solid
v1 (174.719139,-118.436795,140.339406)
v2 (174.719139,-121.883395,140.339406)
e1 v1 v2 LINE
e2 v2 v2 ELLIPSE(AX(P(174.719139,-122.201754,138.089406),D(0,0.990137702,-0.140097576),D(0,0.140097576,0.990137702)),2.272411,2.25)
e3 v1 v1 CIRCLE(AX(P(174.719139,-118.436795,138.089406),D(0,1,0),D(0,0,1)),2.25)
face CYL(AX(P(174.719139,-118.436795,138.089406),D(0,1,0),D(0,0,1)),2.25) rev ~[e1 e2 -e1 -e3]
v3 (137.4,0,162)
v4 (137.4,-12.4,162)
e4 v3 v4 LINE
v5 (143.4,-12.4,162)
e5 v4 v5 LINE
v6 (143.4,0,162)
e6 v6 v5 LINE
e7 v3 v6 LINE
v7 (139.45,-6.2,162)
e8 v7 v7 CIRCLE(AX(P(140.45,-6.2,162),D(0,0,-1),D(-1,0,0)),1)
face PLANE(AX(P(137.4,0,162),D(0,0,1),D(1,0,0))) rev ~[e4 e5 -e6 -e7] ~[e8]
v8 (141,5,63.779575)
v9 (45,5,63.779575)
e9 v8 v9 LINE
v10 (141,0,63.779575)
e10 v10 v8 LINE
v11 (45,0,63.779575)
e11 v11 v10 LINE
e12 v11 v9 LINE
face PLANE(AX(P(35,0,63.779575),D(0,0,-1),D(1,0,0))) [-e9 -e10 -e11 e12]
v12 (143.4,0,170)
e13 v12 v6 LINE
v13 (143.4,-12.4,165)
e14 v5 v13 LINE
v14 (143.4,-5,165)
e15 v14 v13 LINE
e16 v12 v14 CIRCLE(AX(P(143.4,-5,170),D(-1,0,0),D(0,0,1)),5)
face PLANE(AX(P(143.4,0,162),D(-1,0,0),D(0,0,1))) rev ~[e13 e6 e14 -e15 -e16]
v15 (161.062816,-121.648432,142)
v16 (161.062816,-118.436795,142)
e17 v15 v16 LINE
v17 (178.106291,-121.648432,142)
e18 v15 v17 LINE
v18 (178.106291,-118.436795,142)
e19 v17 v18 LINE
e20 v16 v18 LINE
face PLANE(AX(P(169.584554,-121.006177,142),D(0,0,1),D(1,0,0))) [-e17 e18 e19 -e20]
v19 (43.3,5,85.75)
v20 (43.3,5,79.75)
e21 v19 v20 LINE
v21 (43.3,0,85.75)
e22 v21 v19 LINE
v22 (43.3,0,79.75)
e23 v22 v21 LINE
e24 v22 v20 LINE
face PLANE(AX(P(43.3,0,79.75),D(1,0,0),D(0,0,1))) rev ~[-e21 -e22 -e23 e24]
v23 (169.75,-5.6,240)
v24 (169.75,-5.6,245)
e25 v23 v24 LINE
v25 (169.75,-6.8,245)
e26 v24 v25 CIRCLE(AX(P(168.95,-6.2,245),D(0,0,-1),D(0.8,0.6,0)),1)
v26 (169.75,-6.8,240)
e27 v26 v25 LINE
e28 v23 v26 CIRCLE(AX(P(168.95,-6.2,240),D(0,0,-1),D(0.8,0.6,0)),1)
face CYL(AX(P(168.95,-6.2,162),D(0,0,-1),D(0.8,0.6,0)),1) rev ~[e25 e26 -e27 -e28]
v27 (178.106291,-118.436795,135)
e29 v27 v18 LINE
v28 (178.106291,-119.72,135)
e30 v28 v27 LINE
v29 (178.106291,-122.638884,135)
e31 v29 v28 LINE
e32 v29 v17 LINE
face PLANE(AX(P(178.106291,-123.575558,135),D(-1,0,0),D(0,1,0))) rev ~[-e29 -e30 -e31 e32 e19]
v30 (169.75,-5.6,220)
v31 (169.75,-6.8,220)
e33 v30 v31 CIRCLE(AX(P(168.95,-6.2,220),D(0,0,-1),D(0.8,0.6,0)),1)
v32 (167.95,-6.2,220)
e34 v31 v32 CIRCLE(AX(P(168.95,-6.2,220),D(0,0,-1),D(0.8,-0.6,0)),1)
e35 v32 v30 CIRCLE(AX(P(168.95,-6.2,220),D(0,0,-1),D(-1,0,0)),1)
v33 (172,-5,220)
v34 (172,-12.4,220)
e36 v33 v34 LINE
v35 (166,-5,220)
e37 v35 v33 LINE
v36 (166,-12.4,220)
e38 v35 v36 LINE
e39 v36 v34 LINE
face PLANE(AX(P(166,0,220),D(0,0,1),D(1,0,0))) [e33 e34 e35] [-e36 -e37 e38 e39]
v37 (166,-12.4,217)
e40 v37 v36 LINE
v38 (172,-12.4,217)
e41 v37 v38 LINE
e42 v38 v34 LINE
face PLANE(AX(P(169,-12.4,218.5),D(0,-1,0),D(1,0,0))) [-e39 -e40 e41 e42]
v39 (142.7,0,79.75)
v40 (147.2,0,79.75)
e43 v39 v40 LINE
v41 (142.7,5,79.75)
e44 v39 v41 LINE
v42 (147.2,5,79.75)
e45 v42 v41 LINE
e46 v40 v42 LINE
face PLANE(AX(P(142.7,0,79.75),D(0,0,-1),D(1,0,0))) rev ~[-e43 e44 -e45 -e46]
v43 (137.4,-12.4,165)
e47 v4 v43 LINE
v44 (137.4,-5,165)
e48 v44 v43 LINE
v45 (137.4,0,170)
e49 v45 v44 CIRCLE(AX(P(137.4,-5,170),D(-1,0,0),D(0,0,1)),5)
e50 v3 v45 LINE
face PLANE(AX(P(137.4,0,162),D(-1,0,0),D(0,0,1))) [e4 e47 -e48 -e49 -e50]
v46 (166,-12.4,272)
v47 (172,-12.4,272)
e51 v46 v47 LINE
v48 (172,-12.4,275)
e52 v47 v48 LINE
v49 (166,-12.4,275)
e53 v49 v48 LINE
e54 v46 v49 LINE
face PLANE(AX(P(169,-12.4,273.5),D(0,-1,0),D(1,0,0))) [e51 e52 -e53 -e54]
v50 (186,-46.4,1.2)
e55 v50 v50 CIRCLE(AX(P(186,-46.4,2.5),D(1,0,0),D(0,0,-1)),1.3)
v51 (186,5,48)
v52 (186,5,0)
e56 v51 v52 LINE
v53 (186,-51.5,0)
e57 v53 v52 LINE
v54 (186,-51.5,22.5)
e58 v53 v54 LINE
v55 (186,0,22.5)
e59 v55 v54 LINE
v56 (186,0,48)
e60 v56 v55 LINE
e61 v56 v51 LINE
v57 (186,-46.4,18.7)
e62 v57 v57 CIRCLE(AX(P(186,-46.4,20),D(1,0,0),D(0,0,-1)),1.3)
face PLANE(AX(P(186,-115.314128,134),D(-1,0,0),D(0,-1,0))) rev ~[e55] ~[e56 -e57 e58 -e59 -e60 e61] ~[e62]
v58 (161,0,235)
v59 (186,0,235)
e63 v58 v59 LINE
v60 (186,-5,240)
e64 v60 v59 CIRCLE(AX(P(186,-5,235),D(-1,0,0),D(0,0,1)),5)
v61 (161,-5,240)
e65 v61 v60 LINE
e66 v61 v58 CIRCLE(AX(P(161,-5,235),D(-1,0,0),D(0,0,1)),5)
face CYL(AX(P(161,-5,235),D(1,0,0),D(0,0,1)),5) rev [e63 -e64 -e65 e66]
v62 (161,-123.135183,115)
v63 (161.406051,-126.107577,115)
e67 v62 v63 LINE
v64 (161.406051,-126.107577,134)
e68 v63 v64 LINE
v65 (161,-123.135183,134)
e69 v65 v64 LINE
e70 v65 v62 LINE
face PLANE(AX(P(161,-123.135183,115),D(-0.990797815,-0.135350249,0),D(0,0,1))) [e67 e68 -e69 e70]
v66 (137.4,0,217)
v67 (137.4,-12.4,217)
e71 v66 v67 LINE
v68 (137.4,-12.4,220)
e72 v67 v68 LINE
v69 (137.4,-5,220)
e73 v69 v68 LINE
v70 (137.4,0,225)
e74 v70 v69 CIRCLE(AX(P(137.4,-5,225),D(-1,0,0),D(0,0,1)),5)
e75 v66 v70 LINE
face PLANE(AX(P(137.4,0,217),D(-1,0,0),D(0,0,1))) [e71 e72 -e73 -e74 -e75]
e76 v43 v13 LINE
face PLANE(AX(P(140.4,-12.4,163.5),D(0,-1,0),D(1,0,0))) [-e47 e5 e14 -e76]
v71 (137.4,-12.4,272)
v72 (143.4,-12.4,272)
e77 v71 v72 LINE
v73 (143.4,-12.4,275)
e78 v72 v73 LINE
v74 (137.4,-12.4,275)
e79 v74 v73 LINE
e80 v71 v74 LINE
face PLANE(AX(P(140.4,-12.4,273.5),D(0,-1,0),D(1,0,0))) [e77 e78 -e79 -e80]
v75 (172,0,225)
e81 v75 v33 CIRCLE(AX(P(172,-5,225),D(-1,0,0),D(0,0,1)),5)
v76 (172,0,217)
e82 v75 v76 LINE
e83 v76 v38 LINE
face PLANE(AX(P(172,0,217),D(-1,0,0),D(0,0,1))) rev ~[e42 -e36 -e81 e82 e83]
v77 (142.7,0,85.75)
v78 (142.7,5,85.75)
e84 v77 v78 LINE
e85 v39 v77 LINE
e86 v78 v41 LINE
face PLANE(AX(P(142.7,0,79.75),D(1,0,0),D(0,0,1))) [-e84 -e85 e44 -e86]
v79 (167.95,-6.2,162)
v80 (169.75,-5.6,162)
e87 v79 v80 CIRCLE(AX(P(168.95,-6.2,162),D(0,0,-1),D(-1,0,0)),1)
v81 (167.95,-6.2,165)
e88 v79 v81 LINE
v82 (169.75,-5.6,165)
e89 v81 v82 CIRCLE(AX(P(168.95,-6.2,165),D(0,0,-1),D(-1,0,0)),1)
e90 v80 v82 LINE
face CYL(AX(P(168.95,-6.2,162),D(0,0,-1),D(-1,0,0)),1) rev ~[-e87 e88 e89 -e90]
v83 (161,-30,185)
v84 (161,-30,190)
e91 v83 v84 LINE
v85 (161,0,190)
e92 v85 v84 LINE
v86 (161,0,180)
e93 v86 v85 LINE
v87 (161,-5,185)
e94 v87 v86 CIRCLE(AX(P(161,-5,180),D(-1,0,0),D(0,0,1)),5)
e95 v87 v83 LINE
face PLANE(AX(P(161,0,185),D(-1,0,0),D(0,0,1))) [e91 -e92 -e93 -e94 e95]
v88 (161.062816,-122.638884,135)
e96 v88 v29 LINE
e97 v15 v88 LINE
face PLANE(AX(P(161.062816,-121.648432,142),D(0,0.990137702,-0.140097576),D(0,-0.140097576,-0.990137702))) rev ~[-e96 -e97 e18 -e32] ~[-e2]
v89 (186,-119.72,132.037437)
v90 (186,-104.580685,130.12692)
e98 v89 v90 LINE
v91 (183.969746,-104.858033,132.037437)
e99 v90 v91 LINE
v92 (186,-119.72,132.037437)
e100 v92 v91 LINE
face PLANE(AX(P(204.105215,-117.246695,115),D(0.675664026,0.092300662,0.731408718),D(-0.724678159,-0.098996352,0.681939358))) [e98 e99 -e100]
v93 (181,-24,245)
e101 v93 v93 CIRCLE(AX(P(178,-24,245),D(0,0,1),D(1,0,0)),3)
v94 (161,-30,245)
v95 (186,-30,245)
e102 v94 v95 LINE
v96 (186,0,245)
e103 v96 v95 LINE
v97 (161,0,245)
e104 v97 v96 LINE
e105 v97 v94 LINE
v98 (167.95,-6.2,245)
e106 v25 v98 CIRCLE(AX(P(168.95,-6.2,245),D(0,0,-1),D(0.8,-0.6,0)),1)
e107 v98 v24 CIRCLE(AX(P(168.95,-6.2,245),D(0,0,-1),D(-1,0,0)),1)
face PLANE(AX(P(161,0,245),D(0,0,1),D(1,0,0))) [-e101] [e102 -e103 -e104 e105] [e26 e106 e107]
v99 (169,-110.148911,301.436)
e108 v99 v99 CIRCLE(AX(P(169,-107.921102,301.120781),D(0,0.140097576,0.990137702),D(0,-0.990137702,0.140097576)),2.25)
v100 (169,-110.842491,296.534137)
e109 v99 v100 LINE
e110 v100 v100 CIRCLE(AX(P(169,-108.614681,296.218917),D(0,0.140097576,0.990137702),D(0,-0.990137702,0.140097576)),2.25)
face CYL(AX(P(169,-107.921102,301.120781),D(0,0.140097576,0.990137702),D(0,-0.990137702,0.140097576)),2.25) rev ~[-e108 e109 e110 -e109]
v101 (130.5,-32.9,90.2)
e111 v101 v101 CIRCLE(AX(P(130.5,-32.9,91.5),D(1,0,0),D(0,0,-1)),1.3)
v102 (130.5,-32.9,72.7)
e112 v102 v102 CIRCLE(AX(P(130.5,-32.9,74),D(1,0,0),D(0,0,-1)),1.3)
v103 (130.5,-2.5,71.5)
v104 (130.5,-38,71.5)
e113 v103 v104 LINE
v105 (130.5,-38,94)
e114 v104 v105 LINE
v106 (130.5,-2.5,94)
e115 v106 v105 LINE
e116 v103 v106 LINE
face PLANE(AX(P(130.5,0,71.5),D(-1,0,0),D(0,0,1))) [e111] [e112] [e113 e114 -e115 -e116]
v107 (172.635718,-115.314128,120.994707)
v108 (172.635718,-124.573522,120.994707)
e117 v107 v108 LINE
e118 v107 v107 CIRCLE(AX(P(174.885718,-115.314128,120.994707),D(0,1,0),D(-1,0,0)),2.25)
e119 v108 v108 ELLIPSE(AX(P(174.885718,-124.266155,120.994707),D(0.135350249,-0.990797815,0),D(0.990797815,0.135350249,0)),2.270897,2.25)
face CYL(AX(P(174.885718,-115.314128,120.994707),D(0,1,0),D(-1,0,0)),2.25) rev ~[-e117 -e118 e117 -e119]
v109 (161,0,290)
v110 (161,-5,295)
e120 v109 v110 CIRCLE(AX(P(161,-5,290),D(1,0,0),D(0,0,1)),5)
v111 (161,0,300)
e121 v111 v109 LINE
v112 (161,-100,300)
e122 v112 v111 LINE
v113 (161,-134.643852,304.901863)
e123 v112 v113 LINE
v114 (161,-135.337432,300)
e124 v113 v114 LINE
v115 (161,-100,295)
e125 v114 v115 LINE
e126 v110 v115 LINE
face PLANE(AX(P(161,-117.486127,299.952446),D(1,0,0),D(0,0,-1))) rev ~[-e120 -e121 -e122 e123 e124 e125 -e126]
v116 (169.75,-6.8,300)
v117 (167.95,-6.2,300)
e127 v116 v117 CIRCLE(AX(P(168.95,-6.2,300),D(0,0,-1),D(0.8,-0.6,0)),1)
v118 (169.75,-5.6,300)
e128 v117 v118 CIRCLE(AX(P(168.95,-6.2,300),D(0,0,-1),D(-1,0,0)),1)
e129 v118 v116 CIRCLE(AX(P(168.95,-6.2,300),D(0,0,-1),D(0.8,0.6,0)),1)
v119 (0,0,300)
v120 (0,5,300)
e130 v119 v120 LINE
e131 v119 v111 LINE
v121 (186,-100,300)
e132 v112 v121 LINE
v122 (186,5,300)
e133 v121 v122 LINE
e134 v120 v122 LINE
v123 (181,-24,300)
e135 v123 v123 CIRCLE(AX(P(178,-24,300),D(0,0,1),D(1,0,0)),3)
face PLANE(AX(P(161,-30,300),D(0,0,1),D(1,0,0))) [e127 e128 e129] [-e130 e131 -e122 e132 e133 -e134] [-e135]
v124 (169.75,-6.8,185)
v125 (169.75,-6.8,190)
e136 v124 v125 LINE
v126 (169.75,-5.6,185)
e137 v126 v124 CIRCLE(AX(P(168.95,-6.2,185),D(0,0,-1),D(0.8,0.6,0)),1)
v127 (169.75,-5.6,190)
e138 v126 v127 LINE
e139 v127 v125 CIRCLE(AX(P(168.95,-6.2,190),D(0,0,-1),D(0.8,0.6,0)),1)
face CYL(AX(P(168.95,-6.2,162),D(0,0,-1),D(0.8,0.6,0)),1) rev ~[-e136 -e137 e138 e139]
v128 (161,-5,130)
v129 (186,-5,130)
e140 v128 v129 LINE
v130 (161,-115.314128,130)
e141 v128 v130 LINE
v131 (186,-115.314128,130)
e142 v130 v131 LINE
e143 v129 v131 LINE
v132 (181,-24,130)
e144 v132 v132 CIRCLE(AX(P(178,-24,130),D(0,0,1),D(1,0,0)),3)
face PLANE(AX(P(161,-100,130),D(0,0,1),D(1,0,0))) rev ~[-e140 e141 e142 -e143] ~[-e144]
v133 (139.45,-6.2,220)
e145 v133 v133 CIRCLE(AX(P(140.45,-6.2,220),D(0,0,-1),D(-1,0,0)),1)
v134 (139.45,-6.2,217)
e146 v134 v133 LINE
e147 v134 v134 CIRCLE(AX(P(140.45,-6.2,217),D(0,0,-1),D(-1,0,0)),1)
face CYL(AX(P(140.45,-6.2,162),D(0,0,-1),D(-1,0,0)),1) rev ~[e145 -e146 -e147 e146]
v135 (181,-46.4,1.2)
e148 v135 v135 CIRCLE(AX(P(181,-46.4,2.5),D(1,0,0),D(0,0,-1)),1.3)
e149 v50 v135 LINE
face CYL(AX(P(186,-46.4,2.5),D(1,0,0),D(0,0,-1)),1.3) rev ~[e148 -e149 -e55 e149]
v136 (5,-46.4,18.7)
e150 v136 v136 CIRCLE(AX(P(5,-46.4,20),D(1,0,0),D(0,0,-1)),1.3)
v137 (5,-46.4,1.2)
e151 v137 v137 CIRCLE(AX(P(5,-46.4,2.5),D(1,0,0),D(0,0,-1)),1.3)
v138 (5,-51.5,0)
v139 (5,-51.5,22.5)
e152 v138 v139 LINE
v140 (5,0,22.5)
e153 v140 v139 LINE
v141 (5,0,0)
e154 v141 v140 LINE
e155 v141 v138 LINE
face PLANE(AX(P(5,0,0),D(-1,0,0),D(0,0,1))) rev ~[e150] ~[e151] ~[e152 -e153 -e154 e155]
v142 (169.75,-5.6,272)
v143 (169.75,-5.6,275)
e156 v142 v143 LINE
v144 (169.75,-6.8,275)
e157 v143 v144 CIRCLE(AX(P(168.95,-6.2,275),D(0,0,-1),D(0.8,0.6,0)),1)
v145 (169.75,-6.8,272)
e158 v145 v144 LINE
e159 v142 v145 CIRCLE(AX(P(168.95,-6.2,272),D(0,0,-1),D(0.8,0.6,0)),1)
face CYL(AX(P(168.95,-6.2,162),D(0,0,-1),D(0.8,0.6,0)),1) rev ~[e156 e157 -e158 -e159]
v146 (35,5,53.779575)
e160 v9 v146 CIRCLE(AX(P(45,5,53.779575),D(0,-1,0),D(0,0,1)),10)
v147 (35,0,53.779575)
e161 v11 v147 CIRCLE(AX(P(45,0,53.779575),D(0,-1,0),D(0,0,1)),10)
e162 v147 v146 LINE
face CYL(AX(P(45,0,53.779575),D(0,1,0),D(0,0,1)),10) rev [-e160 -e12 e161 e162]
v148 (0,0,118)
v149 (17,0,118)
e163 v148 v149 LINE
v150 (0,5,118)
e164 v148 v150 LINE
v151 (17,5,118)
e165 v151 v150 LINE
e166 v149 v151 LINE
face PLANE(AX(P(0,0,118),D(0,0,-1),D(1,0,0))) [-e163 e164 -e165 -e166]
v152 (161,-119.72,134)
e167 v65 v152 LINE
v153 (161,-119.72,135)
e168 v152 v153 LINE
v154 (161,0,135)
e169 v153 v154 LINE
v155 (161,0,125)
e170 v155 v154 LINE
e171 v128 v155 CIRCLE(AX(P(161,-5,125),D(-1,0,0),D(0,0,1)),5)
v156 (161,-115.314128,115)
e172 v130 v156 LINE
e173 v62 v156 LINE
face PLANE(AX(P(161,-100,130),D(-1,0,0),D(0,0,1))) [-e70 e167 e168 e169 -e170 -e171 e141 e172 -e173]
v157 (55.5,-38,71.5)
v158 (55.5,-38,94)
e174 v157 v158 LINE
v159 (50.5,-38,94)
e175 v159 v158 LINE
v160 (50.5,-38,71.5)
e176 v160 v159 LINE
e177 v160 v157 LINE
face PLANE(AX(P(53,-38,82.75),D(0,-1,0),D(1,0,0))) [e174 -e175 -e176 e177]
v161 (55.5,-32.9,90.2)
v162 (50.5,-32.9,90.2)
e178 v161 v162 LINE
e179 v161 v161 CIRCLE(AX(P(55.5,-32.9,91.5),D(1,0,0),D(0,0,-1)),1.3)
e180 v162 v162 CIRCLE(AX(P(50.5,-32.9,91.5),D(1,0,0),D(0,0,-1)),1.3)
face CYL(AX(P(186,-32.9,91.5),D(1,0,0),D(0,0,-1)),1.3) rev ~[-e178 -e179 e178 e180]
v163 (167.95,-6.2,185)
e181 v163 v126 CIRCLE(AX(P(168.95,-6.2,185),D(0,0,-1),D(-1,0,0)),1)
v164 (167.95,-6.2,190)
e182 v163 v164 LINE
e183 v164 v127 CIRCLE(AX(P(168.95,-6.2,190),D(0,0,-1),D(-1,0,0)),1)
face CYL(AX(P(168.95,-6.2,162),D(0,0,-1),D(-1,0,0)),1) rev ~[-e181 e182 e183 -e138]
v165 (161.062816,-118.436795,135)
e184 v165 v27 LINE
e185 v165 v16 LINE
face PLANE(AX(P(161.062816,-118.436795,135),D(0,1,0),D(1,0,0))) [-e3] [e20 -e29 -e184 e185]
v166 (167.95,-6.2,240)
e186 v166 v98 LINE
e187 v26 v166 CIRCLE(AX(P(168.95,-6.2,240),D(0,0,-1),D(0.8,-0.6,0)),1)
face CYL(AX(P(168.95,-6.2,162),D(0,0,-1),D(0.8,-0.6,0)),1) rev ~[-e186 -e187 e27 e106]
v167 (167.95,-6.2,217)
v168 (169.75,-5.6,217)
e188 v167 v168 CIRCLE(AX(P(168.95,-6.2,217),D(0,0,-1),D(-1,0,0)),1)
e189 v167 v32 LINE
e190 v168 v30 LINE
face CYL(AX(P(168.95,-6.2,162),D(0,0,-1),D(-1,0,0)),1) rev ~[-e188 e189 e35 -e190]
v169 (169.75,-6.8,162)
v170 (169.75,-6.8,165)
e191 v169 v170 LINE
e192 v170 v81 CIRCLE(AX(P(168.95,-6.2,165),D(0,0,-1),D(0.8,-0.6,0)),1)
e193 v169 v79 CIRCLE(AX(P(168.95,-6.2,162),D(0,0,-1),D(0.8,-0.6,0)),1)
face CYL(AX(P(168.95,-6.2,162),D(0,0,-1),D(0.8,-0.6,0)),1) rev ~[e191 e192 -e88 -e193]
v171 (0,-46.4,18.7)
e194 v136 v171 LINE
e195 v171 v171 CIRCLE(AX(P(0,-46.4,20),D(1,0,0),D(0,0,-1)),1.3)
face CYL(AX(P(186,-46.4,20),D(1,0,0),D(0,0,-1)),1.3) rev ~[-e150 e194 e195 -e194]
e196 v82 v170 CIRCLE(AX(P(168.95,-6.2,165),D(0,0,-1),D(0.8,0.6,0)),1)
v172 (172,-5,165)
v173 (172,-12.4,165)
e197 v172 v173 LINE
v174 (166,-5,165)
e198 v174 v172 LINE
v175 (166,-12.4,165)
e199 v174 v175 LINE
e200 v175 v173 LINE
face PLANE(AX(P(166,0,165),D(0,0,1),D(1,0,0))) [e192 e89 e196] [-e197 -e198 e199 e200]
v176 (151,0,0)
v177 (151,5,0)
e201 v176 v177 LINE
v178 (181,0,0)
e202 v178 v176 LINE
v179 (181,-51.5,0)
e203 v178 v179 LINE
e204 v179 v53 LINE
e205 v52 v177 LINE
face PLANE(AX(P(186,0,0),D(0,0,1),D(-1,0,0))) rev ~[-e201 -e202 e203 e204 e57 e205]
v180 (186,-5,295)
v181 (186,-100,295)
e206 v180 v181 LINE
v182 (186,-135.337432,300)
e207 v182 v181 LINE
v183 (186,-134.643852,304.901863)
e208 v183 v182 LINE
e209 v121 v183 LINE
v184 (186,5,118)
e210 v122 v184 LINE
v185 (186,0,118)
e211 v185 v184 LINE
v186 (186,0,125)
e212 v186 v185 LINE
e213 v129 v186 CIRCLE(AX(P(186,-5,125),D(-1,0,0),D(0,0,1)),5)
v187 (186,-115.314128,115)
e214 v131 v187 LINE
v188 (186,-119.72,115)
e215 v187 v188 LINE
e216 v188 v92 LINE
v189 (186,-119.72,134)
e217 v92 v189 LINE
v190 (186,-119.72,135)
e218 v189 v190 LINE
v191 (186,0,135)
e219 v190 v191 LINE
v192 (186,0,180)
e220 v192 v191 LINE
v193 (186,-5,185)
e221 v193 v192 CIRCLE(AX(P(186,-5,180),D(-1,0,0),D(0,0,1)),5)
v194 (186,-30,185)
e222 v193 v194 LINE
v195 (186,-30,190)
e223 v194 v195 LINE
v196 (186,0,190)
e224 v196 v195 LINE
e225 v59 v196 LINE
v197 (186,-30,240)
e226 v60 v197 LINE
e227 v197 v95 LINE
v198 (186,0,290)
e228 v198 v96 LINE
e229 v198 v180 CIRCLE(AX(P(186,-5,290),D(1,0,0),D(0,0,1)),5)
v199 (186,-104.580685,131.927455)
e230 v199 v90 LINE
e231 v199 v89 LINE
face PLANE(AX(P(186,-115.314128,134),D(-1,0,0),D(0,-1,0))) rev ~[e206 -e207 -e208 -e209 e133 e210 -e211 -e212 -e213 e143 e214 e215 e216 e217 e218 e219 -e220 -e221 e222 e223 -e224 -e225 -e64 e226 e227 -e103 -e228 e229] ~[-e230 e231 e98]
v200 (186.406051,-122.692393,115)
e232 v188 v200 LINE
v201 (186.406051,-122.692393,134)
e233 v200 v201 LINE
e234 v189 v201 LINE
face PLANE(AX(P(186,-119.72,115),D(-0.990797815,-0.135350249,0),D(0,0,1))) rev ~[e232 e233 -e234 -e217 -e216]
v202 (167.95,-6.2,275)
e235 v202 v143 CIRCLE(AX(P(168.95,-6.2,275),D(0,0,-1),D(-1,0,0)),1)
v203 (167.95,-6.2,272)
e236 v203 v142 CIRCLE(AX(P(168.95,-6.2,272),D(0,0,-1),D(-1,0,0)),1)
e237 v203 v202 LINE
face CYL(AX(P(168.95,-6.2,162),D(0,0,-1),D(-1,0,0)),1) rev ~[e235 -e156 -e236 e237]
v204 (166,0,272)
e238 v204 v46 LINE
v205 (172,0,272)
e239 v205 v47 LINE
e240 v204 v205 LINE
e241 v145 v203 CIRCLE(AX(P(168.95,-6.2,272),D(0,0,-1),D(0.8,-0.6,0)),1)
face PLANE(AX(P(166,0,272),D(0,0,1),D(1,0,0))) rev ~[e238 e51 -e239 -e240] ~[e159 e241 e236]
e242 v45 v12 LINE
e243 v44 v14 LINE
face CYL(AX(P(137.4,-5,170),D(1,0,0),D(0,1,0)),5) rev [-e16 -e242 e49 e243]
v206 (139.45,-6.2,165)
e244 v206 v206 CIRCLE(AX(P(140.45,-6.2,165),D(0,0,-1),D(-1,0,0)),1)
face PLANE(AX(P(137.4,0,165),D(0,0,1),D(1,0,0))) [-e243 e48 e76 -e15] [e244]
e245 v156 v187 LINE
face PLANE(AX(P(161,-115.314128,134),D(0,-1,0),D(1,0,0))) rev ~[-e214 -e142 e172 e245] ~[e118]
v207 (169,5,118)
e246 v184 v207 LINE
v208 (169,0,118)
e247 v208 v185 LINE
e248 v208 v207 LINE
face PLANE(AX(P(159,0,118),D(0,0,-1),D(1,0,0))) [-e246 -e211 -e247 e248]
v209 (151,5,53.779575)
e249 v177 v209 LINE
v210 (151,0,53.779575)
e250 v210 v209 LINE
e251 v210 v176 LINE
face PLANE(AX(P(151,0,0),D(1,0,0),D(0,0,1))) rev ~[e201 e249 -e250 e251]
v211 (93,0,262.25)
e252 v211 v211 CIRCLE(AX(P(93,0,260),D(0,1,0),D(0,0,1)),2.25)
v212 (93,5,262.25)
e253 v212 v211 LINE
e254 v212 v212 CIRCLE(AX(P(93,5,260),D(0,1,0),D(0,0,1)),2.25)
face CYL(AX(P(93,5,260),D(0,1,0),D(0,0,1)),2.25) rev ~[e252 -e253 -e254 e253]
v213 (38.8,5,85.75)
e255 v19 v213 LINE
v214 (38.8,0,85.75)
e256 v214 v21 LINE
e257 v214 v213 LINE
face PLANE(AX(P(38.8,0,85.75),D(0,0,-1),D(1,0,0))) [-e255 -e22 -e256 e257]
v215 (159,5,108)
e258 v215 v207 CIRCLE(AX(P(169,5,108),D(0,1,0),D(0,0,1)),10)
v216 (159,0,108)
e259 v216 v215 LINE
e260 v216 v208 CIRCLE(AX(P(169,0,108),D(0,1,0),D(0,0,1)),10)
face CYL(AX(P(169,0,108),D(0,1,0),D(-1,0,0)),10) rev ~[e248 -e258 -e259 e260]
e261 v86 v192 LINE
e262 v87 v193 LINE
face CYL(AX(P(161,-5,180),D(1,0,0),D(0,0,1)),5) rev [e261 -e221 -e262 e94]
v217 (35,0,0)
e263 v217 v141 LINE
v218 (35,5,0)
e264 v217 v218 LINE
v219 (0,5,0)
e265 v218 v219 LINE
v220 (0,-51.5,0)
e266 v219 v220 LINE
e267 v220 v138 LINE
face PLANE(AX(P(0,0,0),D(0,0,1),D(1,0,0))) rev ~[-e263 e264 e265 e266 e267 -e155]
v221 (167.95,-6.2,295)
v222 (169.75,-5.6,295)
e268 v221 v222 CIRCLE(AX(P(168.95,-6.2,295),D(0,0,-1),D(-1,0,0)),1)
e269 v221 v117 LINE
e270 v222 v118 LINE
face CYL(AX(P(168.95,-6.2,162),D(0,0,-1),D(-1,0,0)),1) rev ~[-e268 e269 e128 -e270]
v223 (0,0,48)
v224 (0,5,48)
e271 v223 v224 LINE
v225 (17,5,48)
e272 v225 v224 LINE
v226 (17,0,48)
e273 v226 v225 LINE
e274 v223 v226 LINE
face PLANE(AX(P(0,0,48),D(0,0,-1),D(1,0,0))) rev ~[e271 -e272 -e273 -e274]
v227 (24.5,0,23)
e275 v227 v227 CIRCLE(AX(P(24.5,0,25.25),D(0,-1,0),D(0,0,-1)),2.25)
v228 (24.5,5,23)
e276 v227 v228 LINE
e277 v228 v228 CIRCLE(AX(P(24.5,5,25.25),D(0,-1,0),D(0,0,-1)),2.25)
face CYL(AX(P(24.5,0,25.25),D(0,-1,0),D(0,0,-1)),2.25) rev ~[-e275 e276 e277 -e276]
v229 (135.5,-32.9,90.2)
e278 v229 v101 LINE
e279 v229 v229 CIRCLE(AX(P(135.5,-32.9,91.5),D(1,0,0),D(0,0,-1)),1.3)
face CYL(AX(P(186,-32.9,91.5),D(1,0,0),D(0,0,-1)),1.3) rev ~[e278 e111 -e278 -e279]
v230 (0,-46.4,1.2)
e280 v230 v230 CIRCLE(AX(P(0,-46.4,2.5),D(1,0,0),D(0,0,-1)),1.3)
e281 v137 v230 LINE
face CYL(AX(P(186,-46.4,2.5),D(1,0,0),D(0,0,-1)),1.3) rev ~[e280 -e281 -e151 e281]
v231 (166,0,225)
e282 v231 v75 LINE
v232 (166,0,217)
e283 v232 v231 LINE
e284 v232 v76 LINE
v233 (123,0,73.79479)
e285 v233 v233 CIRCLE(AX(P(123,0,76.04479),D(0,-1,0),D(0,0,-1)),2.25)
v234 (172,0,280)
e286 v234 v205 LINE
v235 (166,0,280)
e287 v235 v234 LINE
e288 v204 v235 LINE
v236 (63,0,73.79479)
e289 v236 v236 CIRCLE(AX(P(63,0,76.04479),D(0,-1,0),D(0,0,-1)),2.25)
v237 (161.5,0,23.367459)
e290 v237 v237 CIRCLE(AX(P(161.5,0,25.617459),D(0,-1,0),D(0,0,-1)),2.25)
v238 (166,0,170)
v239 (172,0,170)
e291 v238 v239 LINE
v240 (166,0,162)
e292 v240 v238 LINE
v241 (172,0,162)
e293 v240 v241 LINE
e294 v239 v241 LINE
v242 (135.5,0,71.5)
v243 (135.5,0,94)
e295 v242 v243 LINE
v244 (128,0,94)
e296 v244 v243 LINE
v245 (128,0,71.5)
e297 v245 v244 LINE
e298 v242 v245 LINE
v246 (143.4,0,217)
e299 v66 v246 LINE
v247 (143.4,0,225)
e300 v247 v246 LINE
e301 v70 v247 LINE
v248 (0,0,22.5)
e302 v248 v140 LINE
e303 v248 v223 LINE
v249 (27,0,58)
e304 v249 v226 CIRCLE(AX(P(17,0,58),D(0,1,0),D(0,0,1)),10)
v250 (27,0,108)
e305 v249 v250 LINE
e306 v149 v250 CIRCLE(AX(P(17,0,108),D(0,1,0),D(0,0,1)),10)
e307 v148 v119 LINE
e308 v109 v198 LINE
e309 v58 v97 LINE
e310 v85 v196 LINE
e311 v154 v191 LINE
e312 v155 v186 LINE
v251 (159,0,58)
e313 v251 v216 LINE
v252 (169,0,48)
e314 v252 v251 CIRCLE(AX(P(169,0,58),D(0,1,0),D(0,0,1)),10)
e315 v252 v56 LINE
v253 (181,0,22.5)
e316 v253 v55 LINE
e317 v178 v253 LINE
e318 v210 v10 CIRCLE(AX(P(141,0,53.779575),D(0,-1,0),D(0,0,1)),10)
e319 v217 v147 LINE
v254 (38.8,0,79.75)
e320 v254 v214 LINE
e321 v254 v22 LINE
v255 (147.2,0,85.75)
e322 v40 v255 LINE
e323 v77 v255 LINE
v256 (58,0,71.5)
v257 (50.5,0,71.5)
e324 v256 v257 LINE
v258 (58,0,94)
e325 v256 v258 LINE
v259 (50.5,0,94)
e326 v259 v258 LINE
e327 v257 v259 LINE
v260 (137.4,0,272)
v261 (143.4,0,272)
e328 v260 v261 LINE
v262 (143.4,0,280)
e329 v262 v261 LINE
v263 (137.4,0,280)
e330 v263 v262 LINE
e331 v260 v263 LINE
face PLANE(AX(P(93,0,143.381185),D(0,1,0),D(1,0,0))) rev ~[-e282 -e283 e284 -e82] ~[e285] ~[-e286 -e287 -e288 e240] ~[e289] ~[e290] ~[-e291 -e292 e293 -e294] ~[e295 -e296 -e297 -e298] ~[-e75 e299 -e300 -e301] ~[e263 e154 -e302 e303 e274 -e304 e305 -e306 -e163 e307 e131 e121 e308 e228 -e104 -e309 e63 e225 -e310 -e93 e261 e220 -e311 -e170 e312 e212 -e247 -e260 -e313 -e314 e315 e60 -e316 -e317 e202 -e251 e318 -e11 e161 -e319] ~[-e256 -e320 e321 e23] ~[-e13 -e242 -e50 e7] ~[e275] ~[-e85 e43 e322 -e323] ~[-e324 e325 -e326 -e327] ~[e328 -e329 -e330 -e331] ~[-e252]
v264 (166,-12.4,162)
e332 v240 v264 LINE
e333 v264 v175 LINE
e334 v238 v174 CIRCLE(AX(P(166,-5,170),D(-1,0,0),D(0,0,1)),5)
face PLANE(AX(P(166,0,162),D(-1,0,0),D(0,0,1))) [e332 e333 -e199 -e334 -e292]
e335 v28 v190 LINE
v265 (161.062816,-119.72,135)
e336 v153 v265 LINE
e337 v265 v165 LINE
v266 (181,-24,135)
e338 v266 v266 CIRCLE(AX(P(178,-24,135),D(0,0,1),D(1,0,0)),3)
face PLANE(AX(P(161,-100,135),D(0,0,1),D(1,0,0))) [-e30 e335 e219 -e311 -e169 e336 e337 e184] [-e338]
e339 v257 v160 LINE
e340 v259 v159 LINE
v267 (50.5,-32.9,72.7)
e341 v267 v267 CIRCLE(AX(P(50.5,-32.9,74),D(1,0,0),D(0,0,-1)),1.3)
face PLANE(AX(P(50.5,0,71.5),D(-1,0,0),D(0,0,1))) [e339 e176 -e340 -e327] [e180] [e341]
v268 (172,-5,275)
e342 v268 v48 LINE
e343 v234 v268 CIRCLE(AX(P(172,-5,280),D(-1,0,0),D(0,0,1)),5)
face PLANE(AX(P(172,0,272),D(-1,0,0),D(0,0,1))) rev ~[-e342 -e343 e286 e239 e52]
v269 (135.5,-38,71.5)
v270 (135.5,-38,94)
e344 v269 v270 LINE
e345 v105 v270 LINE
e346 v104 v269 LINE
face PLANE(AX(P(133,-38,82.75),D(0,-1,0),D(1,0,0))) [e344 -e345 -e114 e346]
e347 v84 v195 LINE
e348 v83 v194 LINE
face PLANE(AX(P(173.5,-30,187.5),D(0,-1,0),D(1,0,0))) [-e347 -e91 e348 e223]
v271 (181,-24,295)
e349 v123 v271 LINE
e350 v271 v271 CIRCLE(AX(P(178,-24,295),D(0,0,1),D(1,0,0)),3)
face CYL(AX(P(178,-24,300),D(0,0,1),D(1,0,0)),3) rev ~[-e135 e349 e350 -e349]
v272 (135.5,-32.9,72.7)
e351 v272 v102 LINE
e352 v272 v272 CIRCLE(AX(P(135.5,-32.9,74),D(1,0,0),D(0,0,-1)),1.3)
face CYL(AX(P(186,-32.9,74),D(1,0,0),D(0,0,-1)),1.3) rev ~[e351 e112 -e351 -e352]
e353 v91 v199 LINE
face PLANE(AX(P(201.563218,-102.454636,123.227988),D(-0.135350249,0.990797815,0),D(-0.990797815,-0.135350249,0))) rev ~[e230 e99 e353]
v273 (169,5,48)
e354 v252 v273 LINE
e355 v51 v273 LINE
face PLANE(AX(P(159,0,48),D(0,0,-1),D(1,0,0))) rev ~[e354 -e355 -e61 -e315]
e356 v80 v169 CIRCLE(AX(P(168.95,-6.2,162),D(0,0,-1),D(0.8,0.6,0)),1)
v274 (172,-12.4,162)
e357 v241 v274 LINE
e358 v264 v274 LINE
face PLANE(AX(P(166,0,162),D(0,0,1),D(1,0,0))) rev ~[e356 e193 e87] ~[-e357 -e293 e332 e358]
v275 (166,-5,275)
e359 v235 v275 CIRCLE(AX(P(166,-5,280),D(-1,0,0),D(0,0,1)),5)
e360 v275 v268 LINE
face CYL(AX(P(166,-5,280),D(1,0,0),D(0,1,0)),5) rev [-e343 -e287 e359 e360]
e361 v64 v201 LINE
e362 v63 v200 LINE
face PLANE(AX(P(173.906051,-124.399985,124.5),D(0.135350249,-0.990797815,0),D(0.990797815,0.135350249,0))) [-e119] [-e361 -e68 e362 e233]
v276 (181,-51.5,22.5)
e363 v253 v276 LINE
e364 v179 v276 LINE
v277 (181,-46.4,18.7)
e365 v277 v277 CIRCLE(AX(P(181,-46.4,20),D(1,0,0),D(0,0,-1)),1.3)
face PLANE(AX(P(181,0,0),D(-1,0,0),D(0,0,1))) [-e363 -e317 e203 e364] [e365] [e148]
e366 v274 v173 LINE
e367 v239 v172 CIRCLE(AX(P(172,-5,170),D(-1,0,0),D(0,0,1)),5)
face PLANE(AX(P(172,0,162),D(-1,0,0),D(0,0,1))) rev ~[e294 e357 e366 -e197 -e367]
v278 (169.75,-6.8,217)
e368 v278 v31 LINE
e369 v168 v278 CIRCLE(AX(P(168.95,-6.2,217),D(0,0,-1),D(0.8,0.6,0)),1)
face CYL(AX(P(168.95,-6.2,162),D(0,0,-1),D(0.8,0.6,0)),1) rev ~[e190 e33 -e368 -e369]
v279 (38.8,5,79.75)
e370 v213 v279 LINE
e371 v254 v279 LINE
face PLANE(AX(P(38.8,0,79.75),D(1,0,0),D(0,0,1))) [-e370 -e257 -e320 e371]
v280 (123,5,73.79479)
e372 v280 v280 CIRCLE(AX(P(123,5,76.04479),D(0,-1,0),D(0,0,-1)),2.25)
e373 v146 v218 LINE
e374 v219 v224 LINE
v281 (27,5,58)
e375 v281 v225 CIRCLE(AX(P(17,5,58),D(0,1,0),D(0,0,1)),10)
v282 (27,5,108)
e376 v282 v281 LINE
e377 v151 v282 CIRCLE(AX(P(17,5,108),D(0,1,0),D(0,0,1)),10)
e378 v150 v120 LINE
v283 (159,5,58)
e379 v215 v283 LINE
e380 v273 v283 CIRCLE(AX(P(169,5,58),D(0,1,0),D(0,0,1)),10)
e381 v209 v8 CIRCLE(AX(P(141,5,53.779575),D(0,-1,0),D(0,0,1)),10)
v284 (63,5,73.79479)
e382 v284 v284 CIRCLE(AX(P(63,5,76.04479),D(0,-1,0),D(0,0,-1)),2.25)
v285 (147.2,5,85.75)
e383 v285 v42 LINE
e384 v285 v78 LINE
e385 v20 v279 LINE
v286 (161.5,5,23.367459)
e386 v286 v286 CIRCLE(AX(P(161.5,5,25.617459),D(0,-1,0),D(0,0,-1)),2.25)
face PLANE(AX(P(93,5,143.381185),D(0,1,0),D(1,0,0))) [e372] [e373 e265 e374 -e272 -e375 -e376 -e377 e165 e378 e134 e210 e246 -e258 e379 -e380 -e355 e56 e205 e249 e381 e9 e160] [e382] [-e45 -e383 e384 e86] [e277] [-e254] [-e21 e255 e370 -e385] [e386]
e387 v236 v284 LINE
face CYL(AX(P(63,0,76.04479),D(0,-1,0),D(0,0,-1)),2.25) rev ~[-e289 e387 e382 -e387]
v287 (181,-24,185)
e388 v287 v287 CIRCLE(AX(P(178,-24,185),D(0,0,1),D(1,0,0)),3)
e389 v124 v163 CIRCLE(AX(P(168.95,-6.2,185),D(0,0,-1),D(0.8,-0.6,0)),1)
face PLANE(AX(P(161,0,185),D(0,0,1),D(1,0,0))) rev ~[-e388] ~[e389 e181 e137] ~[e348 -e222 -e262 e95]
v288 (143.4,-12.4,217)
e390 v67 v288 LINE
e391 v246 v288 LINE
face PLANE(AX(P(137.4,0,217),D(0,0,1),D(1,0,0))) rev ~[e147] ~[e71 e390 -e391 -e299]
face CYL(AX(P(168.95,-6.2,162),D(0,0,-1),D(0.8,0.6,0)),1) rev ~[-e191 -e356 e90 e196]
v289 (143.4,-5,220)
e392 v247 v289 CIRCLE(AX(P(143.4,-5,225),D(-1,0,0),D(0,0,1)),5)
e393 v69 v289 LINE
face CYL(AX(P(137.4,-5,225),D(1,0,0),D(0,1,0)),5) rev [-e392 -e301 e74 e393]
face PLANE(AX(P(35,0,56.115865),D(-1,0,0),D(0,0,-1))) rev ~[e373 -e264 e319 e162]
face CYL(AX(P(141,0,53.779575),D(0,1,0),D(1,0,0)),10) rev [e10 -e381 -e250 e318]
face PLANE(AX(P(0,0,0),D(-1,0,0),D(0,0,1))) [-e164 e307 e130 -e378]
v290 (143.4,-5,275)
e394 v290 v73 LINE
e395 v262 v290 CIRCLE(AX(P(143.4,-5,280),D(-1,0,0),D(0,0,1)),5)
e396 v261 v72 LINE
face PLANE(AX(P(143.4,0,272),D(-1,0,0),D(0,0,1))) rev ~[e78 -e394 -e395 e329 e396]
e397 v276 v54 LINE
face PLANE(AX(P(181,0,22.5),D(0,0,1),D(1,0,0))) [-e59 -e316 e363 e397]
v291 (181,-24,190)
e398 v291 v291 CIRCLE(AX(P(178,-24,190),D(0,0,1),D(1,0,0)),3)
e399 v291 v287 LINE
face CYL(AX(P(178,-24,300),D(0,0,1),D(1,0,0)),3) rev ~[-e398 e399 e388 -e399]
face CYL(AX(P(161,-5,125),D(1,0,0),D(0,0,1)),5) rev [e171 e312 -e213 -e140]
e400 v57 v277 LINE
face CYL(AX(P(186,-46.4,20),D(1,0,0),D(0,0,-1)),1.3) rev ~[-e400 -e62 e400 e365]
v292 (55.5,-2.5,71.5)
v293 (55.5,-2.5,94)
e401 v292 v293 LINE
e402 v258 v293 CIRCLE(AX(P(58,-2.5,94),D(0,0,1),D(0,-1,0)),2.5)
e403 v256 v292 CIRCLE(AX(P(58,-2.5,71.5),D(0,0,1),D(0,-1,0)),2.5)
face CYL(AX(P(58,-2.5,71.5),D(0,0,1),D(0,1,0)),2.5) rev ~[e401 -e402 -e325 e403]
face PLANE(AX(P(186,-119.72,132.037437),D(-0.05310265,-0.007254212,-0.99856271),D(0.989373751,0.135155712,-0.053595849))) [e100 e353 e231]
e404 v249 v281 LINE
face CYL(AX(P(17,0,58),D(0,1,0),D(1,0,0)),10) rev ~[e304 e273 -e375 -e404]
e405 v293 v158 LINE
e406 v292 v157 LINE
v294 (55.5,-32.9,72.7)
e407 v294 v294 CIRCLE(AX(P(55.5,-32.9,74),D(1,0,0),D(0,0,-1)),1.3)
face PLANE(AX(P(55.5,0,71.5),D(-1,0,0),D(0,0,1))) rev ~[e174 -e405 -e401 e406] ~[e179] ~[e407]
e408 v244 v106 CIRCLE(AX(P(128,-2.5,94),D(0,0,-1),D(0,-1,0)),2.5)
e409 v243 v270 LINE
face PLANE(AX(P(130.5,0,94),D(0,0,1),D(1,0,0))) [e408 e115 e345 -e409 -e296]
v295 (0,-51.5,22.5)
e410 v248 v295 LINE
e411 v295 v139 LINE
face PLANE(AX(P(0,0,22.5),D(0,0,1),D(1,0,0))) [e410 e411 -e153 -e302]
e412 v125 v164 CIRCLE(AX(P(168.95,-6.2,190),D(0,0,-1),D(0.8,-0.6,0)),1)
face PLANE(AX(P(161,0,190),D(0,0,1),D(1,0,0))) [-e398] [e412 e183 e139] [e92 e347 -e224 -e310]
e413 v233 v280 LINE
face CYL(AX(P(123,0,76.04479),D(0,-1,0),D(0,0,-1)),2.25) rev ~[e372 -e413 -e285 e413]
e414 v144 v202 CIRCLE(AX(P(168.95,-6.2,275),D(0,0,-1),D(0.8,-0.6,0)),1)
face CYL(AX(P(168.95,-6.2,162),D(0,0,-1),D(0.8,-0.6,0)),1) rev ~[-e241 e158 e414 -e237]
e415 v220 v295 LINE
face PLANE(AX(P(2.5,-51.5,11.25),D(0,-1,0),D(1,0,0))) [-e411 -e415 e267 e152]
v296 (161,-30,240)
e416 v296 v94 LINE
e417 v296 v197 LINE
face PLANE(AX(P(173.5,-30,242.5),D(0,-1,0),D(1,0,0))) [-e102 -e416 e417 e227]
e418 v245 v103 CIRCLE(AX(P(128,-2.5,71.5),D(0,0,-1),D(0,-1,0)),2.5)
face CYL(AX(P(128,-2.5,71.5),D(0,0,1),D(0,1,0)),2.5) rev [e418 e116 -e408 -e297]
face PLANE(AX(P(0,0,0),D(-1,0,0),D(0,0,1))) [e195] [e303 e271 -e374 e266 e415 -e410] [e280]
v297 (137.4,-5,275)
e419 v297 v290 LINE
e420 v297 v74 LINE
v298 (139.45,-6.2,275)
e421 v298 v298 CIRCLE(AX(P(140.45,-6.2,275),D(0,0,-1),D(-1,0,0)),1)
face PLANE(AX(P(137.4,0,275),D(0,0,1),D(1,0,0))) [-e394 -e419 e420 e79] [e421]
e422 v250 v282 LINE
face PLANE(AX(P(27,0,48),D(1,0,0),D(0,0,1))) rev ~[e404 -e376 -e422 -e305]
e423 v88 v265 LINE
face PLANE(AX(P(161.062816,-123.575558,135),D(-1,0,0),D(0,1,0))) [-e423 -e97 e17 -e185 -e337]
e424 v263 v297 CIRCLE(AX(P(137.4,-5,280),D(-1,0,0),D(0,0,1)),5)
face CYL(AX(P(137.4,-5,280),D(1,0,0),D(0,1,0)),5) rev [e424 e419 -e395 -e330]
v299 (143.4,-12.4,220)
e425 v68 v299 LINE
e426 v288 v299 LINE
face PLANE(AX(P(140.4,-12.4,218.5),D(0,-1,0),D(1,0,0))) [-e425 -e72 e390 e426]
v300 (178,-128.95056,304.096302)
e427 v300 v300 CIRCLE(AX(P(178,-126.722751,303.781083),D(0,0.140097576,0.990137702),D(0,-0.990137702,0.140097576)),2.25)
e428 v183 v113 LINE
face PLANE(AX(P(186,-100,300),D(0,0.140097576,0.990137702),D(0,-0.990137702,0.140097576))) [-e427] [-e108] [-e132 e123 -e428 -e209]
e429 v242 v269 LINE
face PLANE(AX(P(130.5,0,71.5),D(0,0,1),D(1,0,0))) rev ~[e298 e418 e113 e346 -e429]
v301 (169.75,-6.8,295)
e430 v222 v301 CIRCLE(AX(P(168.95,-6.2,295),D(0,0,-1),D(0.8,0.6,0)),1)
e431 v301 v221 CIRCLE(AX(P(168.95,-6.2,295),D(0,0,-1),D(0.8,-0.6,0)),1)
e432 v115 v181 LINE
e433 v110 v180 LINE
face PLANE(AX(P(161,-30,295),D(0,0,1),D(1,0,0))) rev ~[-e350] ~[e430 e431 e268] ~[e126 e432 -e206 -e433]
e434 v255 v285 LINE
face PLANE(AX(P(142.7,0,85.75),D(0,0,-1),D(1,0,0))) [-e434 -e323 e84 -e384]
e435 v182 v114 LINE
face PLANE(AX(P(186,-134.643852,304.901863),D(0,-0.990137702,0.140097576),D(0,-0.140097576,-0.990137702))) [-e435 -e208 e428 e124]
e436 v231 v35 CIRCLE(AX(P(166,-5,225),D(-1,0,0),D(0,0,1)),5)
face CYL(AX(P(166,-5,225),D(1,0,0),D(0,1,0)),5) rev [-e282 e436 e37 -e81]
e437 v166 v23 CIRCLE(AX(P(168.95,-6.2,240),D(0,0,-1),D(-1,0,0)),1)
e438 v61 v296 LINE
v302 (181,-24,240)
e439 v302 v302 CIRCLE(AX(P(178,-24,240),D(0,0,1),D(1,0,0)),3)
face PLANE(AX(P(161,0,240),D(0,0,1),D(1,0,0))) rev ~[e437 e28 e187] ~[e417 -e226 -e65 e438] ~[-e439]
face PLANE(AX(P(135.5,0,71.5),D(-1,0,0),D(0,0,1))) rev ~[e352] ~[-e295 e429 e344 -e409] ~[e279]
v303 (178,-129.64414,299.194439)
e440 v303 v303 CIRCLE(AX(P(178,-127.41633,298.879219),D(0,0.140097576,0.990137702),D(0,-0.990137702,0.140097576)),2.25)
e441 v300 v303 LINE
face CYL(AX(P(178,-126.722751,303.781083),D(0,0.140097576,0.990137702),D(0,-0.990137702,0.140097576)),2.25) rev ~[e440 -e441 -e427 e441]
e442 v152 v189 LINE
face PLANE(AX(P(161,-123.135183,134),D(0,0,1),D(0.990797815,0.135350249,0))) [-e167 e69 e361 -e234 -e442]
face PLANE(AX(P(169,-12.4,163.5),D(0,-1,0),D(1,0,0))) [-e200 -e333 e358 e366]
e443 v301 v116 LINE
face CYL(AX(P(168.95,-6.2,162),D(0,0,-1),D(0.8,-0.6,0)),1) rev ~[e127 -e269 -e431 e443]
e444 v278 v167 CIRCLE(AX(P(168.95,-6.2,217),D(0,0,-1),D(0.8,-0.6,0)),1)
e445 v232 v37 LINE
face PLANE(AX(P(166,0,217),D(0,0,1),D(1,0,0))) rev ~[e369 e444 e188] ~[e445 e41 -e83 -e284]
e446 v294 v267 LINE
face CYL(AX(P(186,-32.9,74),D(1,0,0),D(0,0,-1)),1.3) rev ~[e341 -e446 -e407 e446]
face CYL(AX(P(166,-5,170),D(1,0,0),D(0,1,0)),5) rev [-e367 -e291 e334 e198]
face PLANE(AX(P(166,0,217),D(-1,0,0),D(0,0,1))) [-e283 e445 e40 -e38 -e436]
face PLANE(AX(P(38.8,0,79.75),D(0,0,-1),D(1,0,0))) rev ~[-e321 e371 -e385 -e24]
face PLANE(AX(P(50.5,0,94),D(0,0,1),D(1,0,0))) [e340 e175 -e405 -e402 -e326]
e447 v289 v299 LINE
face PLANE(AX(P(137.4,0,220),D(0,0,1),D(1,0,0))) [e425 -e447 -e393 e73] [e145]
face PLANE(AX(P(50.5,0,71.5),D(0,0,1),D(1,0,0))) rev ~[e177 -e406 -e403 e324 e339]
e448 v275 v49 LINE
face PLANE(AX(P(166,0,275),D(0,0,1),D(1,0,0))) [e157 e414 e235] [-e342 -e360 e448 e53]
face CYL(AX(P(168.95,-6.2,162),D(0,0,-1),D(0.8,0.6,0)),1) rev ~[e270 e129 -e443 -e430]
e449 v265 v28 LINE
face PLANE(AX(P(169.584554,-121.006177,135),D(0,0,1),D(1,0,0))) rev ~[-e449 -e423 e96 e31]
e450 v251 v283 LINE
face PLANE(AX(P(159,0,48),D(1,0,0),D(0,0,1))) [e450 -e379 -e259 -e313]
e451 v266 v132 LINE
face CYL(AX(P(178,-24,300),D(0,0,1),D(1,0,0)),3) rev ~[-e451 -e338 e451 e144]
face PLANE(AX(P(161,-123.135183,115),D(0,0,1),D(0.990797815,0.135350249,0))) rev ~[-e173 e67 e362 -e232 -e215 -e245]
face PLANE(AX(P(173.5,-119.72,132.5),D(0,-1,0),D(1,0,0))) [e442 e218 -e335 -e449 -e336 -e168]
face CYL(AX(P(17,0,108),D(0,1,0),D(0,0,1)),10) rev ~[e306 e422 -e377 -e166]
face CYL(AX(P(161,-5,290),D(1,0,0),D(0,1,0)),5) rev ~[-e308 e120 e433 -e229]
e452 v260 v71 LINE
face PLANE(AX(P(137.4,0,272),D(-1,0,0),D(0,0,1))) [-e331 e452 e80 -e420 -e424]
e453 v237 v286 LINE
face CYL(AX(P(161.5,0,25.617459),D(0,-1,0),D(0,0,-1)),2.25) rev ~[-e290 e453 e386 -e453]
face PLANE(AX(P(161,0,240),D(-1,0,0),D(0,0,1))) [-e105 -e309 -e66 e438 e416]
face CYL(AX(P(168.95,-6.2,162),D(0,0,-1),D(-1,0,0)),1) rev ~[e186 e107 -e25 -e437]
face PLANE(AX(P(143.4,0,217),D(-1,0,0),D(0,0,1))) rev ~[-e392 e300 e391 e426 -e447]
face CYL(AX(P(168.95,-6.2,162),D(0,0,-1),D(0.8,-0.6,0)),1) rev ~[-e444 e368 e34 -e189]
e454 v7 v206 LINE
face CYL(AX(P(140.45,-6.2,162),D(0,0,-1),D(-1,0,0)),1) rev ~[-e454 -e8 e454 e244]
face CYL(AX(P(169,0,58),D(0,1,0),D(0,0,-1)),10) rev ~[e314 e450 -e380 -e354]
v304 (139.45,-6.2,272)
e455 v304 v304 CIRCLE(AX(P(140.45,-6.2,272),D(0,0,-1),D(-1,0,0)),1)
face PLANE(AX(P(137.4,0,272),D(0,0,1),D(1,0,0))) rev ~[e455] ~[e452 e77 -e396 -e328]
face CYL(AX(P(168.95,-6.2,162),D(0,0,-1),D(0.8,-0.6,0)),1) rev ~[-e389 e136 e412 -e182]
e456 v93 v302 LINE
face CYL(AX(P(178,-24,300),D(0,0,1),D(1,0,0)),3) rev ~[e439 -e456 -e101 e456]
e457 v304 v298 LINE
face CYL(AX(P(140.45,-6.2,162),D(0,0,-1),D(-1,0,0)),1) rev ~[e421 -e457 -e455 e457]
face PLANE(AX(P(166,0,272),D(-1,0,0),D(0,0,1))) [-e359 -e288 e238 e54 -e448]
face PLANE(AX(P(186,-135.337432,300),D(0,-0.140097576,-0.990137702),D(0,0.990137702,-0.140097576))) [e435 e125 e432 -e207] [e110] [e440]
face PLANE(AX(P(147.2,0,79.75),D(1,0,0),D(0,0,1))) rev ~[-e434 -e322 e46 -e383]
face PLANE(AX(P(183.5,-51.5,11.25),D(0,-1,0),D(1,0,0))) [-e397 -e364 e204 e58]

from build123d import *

# Parameters (mm, degrees)
BOSS_EXTRUDE1_DEPTH      = 5
SKETCH2_W                = 5
SKETCH2_H                = 22.5
BOSS_EXTRUDE2_DEPTH      = 38
SKETCH5_W                = 25
SKETCH5_H                = 5
BOSS_EXTRUDE3_DEPTH      = 30
FILLET3_R                = 5
SKETCH6_R                = 3
CUT_EXTRUDE4_DEPTH       = 172
SKETCH7_W                = 5
SKETCH7_H                = 22.5
BOSS_EXTRUDE4_DEPTH      = 51.5
SKETCH3_R                = 1.3
CUT_EXTRUDE2_DEPTH       = 357.71872673
SKETCH9_W                = 116
SKETCH9_H                = 63.779574991
CUT_EXTRUDE6_DEPTH       = 10
SKETCH10_W               = 25
SKETCH10_H               = 5
BOSS_EXTRUDE5_DEPTH      = 70
BOSS_EXTRUDE6_DEPTH      = 25
SKETCH12_W               = 25
SKETCH12_H               = 5
BOSS_EXTRUDE7_DEPTH      = 19.72
BOSS_EXTRUDE8_DEPTH      = 15
BOSS_EXTRUDE8_DEPTH_BACK = 4
CUT_EXTRUDE7_DEPTH       = 15
SKETCH15_R               = 2.25
CUT_EXTRUDE8_DEPTH       = 20
SKETCH16_W               = 6
SKETCH16_H               = 3
BOSS_EXTRUDE9_DEPTH      = 12.4
SKETCH17_R               = 1
CUT_EXTRUDE9_DEPTH       = 282.347152812
SKETCH27_W               = 25.232191294
SKETCH27_H               = 19
BOSS_EXTRUDE11_DEPTH     = 3
FILLET4_R                = 5
SKETCH18_R               = 2.25
CUT_EXTRUDE10_DEPTH      = 378.078044336
SKETCH19_W               = 4.5
SKETCH19_H               = 6
CUT_EXTRUDE12_DEPTH      = 383.13686347
FILLET6_R                = 10
SKETCH21_W               = 27
SKETCH21_H               = 70
CUT_EXTRUDE14_DEPTH      = 383.13686347
FILLET7_R                = 10
FILLET8_R                = 2.5
SKETCH22_R               = 2.25
CUT_EXTRUDE16_DEPTH      = 10
SKETCH23_W               = 17.043474802
SKETCH23_H               = 5.138762975
BOSS_EXTRUDE10_DEPTH     = 7
CUT_EXTRUDE17_REACH      = 372.436
CUT_EXTRUDE18_REACH      = 380.086
SKETCH25_R               = 2.25
SKETCH28_R               = 2.25
CUT_EXTRUDE19_DEPTH      = 384.936136276


with BuildPart() as part:
    # Sketch1 → Boss-Extrude1 (new body)
    with BuildSketch(Plane(origin=(0, 0, 0), x_dir=(1, 0, 0), z_dir=(0, 1, 0))):
        Polygon((0, 0), (0, -300), (186, -300), (186, 0), (176, 0), (151, 0), (151, -56.115865257), (35, -56.115865257), (35, 0), (10, 0), align=None)
    extrude(amount=BOSS_EXTRUDE1_DEPTH)

    # Sketch2 → Boss-Extrude2 (add)
    with BuildSketch(Plane.XZ):
        with Locations((53, 82.75)):
            Rectangle(SKETCH2_W, SKETCH2_H)
        with Locations((133, 82.75)):
            Rectangle(SKETCH2_W, SKETCH2_H)
    extrude(amount=BOSS_EXTRUDE2_DEPTH)

    # Sketch5 → Boss-Extrude3 (add)
    with BuildSketch(Plane.XZ):
        with Locations((173.5, 297.5)):
            Rectangle(SKETCH5_W, SKETCH5_H)
        with Locations((173.5, 242.5)):
            Rectangle(SKETCH5_W, SKETCH5_H)
        with Locations((173.5, 187.5)):
            Rectangle(SKETCH5_W, SKETCH5_H)
        with Locations((173.5, 132.5)):
            Rectangle(SKETCH5_W, SKETCH5_H)
    extrude(amount=BOSS_EXTRUDE3_DEPTH)

    # Fillet3
    fillet3_edges = [part.edges().sort_by_distance(p)[0] for p in [
        (173.5, 0, 295),
        (173.5, 0, 240),
        (173.5, 0, 185),
        (173.5, 0, 130),
    ]]
    fillet(fillet3_edges, radius=FILLET3_R)

    # Sketch6 → Cut-Extrude4 (cut)
    with BuildSketch(Plane.XY.offset(300)):
        with Locations((178, -24)):
            Circle(SKETCH6_R)
    extrude(amount=-CUT_EXTRUDE4_DEPTH, mode=Mode.SUBTRACT)

    # Sketch7 → Boss-Extrude4 (add)
    with BuildSketch(Plane.XZ):
        with Locations((2.5, 11.25)):
            Rectangle(SKETCH7_W, SKETCH7_H)
        with Locations((183.5, 11.25)):
            Rectangle(SKETCH7_W, SKETCH7_H)
    extrude(amount=BOSS_EXTRUDE4_DEPTH)

    # Sketch3 → Cut-Extrude2 (cut, through all)
    with BuildSketch(Plane(origin=(186, 0, 0), x_dir=(0, 0, -1), z_dir=(1, 0, 0))):
        with Locations((-74, -32.9)):
            Circle(SKETCH3_R)
        with Locations((-91.5, -32.9)):
            Circle(SKETCH3_R)
        with Locations((-20, -46.4)):
            Circle(SKETCH3_R)
        with Locations((-2.5, -46.4)):
            Circle(SKETCH3_R)
    extrude(amount=-CUT_EXTRUDE2_DEPTH, mode=Mode.SUBTRACT)

    # Sketch9 → Cut-Extrude6 (cut)
    with BuildSketch(Plane.XZ):
        with Locations((93, 31.889787496)):
            Rectangle(SKETCH9_W, SKETCH9_H)
    extrude(amount=-CUT_EXTRUDE6_DEPTH, mode=Mode.SUBTRACT)

    # Sketch10 → Boss-Extrude5 (add)
    with BuildSketch(Plane.XZ.offset(30)):
        with Locations((173.5, 297.5)):
            Rectangle(SKETCH10_W, SKETCH10_H)
        with Locations((173.5, 132.5)):
            Rectangle(SKETCH10_W, SKETCH10_H)
    extrude(amount=BOSS_EXTRUDE5_DEPTH)

    # Sketch11 → Boss-Extrude6 (add)
    with BuildSketch(Plane(origin=(186, 0, 0), x_dir=(0, 0, -1), z_dir=(1, 0, 0))):
        Polygon((-300, -100), (-304.901863346, -134.643852153), (-300, -135.337431613), (-295, -100), align=None)
    extrude(amount=-BOSS_EXTRUDE6_DEPTH)

    # Sketch12 → Boss-Extrude7 (add)
    with BuildSketch(Plane.XZ.offset(100)):
        with Locations((173.5, 132.5)):
            Rectangle(SKETCH12_W, SKETCH12_H)
    extrude(amount=BOSS_EXTRUDE7_DEPTH)

    # Sketch13 → Boss-Extrude8 (add, two sides: drawn at the far end of the back side and taken through both)
    with BuildSketch(Plane(origin=(0, 0, 130), x_dir=(-1, 0, 0), z_dir=(0, 0, -1)).offset(-BOSS_EXTRUDE8_DEPTH_BACK)):
        Polygon((-186, -115.314128401), (-186, -119.72), (-161, -123.135183378), (-161, -115.314128401), align=None)
    extrude(amount=BOSS_EXTRUDE8_DEPTH + BOSS_EXTRUDE8_DEPTH_BACK)

    # Sketch14 → Cut-Extrude7 (cut)
    with BuildSketch(Plane(origin=(19.462480736, -142.470246704, 0), x_dir=(0.9907978149243062, 0.13535024913615948, 0), z_dir=(0.13535024913615948, -0.9907978149243062, 0))):
        Polygon((186.357631366, 115), (168.084261749, 132.037436989), (198.015187573, 130.430954629), (197.515117956, 111.366582762), (186.357631366, 109.607523038), align=None)
    extrude(amount=-CUT_EXTRUDE7_DEPTH, mode=Mode.SUBTRACT)

    # Sketch15 → Cut-Extrude8 (cut)
    with BuildSketch(Plane(origin=(0, 39.65203451, 280.240211564), x_dir=(1, 0, 0), z_dir=(0, 0.14009757598944012, 0.9901377021414158))):
        with Locations(Location((178, -168.031966348, 0), (0, 0, 270))):
            Circle(SKETCH15_R)
        with Locations(Location((169, -149.043043011, 0), (0, 0, 270))):
            Circle(SKETCH15_R)
    extrude(amount=-CUT_EXTRUDE8_DEPTH, mode=Mode.SUBTRACT)

    # Sketch16 → Boss-Extrude9 (add)
    with BuildSketch(Plane.XZ):
        with Locations((169, 273.5)):
            Rectangle(SKETCH16_W, SKETCH16_H)
        with Locations((140.4, 273.5)):
            Rectangle(SKETCH16_W, SKETCH16_H)
        with Locations((169, 218.5)):
            Rectangle(SKETCH16_W, SKETCH16_H)
        with Locations((169, 163.5)):
            Rectangle(SKETCH16_W, SKETCH16_H)
        with Locations((140.4, 218.5)):
            Rectangle(SKETCH16_W, SKETCH16_H)
        with Locations((140.4, 163.5)):
            Rectangle(SKETCH16_W, SKETCH16_H)
    extrude(amount=BOSS_EXTRUDE9_DEPTH)

    # Sketch17 → Cut-Extrude9 (cut, through all)
    with BuildSketch(Plane(origin=(0, 0, 162), x_dir=(-1, 0, 0), z_dir=(0, 0, -1))):
        with BuildLine():
            ThreePointArc((-169.75, -5.6), (-169.95, -6.2), (-169.75, -6.8))
            ThreePointArc((-169.75, -6.8), (-168.633772234, -7.148683298), (-167.95, -6.2))
            ThreePointArc((-167.95, -6.2), (-168.633772234, -5.251316702), (-169.75, -5.6))
        make_face()
        with Locations((-140.45, -6.2)):
            Circle(SKETCH17_R)
    extrude(amount=-CUT_EXTRUDE9_DEPTH, mode=Mode.SUBTRACT)

    # Sketch27 → Boss-Extrude11 (add)
    with BuildSketch(Plane(origin=(19.462480736, -142.470246704, 0), x_dir=(0.9907978149243062, 0.13535024913615953, 0), z_dir=(0.13535024913615953, -0.9907978149243062, 0))):
        with Locations((155.468166102, 124.5)):
            Rectangle(SKETCH27_W, SKETCH27_H)
    extrude(amount=BOSS_EXTRUDE11_DEPTH)

    # Fillet4
    fillet4_edges = [part.edges().sort_by_distance(p)[0] for p in [
        (140.4, 0, 220),
        (169, 0, 165),
        (169, 0, 220),
        (140.4, 0, 275),
        (140.4, 0, 165),
        (169, 0, 275),
    ]]
    fillet(fillet4_edges, radius=FILLET4_R)

    # Sketch18 → Cut-Extrude10 (cut, through all)
    with BuildSketch(Plane(origin=(0, -115.314128401, 0), x_dir=(1, 0, 0), z_dir=(0, 1, 0))):
        with Locations(Location((174.885718372, -120.99470656, 0), (0, 0, 180))):
            Circle(SKETCH18_R)
    extrude(amount=-CUT_EXTRUDE10_DEPTH, mode=Mode.SUBTRACT)

    # Sketch19 → Cut-Extrude12 (cut, through all)
    with BuildSketch(Plane.XZ):
        with Locations((144.95, 82.75)):
            Rectangle(SKETCH19_W, SKETCH19_H)
        with Locations((41.05, 82.75)):
            Rectangle(SKETCH19_W, SKETCH19_H)
    extrude(amount=-CUT_EXTRUDE12_DEPTH, mode=Mode.SUBTRACT)

    # Fillet6
    fillet6_edges = [part.edges().sort_by_distance(p)[0] for p in [
        (35, 2.5, 63.779574991),
        (151, 2.5, 63.779574991),
    ]]
    fillet(fillet6_edges, radius=FILLET6_R)

    # Sketch21 → Cut-Extrude14 (cut, through all)
    with BuildSketch(Plane.XZ):
        with Locations((13.5, 83)):
            Rectangle(SKETCH21_W, SKETCH21_H)
        with Locations((172.5, 83)):
            Rectangle(SKETCH21_W, SKETCH21_H)
    extrude(amount=-CUT_EXTRUDE14_DEPTH, mode=Mode.SUBTRACT)

    # Fillet7
    fillet7_edges = [part.edges().sort_by_distance(p)[0] for p in [
        (27, 2.5, 118),
        (27, 2.5, 48),
        (159, 2.5, 48),
        (159, 2.5, 118),
    ]]
    fillet(fillet7_edges, radius=FILLET7_R)

    # Fillet8
    fillet8_edges = [part.edges().sort_by_distance(p)[0] for p in [
        (55.5, 0, 82.75),
        (130.5, 0, 82.75),
    ]]
    fillet(fillet8_edges, radius=FILLET8_R)

    # Sketch22 → Cut-Extrude16 (cut)
    with BuildSketch(Plane.XZ):
        with Locations(Location((123, 76.044790491, 0), (0, 0, 270))):
            Circle(SKETCH22_R)
        with Locations(Location((63, 76.044790491, 0), (0, 0, 270))):
            Circle(SKETCH22_R)
        with Locations(Location((24.5, 25.25, 0), (0, 0, 270))):
            Circle(SKETCH22_R)
        with Locations(Location((161.5, 25.617459027, 0), (0, 0, 270))):
            Circle(SKETCH22_R)
    extrude(amount=-CUT_EXTRUDE16_DEPTH, mode=Mode.SUBTRACT)

    # Sketch23 → Boss-Extrude10 (add)
    with BuildSketch(Plane.XY.offset(135)):
        with Locations((169.584553608, -121.006176699)):
            Rectangle(SKETCH23_W, SKETCH23_H)
    extrude(amount=BOSS_EXTRUDE10_DEPTH)

    # Sketch24 → Cut-Extrude17 (cut, up to next)
    with BuildSketch(Plane.ZY.offset(-161.062816207), mode=Mode.PRIVATE) as cut_extrude17_sk1:
        Polygon((142, -121.648432415), (135, -122.638883571), (134.714975443, -124.33810847), (142, -124.33810847), align=None)
    cut_extrude17_tool1 = extrude(cut_extrude17_sk1.sketch, amount=-CUT_EXTRUDE17_REACH, mode=Mode.PRIVATE) & part.part
    add(cut_extrude17_tool1.solids().sort_by_distance((161.062816, -123.230784, 138.703404))[0], mode=Mode.SUBTRACT)

    # Cut-Extrude18: up to this plane
    cut_extrude18_end = Plane(origin=(186.407050747, -121.648432415, 142), z_dir=(0, 0.9901377021414159, -0.14009757598943937))
    # Sketch25 → Cut-Extrude18 (cut, up to the surface)
    with BuildSketch(Plane(origin=(0, -118.436795211, 0), x_dir=(1, 0, 0), z_dir=(0, 1, 0)), mode=Mode.PRIVATE) as cut_extrude18_sk1:
        with Locations(Location((174.719138996, -138.089405518, 0), (0, 0, 270))):
            Circle(SKETCH25_R)
    cut_extrude18_tool1 = split(extrude(cut_extrude18_sk1.sketch, amount=-CUT_EXTRUDE18_REACH, mode=Mode.PRIVATE), bisect_by=cut_extrude18_end, keep=Keep.BOTH, mode=Mode.PRIVATE)
    add(cut_extrude18_tool1.solids().sort_by_distance((174.719139, -118.436795, 138.089406))[0], mode=Mode.SUBTRACT)

    # Sketch28 → Cut-Extrude19 (cut, through all)
    with BuildSketch(Plane(origin=(0, 5, 0), x_dir=(1, 0, 0), z_dir=(0, 1, 0))):
        with Locations(Location((93, -260, 0), (0, 0, 270))):
            Circle(SKETCH28_R)
    extrude(amount=-CUT_EXTRUDE19_DEPTH, mode=Mode.SUBTRACT)


solid = part.part
